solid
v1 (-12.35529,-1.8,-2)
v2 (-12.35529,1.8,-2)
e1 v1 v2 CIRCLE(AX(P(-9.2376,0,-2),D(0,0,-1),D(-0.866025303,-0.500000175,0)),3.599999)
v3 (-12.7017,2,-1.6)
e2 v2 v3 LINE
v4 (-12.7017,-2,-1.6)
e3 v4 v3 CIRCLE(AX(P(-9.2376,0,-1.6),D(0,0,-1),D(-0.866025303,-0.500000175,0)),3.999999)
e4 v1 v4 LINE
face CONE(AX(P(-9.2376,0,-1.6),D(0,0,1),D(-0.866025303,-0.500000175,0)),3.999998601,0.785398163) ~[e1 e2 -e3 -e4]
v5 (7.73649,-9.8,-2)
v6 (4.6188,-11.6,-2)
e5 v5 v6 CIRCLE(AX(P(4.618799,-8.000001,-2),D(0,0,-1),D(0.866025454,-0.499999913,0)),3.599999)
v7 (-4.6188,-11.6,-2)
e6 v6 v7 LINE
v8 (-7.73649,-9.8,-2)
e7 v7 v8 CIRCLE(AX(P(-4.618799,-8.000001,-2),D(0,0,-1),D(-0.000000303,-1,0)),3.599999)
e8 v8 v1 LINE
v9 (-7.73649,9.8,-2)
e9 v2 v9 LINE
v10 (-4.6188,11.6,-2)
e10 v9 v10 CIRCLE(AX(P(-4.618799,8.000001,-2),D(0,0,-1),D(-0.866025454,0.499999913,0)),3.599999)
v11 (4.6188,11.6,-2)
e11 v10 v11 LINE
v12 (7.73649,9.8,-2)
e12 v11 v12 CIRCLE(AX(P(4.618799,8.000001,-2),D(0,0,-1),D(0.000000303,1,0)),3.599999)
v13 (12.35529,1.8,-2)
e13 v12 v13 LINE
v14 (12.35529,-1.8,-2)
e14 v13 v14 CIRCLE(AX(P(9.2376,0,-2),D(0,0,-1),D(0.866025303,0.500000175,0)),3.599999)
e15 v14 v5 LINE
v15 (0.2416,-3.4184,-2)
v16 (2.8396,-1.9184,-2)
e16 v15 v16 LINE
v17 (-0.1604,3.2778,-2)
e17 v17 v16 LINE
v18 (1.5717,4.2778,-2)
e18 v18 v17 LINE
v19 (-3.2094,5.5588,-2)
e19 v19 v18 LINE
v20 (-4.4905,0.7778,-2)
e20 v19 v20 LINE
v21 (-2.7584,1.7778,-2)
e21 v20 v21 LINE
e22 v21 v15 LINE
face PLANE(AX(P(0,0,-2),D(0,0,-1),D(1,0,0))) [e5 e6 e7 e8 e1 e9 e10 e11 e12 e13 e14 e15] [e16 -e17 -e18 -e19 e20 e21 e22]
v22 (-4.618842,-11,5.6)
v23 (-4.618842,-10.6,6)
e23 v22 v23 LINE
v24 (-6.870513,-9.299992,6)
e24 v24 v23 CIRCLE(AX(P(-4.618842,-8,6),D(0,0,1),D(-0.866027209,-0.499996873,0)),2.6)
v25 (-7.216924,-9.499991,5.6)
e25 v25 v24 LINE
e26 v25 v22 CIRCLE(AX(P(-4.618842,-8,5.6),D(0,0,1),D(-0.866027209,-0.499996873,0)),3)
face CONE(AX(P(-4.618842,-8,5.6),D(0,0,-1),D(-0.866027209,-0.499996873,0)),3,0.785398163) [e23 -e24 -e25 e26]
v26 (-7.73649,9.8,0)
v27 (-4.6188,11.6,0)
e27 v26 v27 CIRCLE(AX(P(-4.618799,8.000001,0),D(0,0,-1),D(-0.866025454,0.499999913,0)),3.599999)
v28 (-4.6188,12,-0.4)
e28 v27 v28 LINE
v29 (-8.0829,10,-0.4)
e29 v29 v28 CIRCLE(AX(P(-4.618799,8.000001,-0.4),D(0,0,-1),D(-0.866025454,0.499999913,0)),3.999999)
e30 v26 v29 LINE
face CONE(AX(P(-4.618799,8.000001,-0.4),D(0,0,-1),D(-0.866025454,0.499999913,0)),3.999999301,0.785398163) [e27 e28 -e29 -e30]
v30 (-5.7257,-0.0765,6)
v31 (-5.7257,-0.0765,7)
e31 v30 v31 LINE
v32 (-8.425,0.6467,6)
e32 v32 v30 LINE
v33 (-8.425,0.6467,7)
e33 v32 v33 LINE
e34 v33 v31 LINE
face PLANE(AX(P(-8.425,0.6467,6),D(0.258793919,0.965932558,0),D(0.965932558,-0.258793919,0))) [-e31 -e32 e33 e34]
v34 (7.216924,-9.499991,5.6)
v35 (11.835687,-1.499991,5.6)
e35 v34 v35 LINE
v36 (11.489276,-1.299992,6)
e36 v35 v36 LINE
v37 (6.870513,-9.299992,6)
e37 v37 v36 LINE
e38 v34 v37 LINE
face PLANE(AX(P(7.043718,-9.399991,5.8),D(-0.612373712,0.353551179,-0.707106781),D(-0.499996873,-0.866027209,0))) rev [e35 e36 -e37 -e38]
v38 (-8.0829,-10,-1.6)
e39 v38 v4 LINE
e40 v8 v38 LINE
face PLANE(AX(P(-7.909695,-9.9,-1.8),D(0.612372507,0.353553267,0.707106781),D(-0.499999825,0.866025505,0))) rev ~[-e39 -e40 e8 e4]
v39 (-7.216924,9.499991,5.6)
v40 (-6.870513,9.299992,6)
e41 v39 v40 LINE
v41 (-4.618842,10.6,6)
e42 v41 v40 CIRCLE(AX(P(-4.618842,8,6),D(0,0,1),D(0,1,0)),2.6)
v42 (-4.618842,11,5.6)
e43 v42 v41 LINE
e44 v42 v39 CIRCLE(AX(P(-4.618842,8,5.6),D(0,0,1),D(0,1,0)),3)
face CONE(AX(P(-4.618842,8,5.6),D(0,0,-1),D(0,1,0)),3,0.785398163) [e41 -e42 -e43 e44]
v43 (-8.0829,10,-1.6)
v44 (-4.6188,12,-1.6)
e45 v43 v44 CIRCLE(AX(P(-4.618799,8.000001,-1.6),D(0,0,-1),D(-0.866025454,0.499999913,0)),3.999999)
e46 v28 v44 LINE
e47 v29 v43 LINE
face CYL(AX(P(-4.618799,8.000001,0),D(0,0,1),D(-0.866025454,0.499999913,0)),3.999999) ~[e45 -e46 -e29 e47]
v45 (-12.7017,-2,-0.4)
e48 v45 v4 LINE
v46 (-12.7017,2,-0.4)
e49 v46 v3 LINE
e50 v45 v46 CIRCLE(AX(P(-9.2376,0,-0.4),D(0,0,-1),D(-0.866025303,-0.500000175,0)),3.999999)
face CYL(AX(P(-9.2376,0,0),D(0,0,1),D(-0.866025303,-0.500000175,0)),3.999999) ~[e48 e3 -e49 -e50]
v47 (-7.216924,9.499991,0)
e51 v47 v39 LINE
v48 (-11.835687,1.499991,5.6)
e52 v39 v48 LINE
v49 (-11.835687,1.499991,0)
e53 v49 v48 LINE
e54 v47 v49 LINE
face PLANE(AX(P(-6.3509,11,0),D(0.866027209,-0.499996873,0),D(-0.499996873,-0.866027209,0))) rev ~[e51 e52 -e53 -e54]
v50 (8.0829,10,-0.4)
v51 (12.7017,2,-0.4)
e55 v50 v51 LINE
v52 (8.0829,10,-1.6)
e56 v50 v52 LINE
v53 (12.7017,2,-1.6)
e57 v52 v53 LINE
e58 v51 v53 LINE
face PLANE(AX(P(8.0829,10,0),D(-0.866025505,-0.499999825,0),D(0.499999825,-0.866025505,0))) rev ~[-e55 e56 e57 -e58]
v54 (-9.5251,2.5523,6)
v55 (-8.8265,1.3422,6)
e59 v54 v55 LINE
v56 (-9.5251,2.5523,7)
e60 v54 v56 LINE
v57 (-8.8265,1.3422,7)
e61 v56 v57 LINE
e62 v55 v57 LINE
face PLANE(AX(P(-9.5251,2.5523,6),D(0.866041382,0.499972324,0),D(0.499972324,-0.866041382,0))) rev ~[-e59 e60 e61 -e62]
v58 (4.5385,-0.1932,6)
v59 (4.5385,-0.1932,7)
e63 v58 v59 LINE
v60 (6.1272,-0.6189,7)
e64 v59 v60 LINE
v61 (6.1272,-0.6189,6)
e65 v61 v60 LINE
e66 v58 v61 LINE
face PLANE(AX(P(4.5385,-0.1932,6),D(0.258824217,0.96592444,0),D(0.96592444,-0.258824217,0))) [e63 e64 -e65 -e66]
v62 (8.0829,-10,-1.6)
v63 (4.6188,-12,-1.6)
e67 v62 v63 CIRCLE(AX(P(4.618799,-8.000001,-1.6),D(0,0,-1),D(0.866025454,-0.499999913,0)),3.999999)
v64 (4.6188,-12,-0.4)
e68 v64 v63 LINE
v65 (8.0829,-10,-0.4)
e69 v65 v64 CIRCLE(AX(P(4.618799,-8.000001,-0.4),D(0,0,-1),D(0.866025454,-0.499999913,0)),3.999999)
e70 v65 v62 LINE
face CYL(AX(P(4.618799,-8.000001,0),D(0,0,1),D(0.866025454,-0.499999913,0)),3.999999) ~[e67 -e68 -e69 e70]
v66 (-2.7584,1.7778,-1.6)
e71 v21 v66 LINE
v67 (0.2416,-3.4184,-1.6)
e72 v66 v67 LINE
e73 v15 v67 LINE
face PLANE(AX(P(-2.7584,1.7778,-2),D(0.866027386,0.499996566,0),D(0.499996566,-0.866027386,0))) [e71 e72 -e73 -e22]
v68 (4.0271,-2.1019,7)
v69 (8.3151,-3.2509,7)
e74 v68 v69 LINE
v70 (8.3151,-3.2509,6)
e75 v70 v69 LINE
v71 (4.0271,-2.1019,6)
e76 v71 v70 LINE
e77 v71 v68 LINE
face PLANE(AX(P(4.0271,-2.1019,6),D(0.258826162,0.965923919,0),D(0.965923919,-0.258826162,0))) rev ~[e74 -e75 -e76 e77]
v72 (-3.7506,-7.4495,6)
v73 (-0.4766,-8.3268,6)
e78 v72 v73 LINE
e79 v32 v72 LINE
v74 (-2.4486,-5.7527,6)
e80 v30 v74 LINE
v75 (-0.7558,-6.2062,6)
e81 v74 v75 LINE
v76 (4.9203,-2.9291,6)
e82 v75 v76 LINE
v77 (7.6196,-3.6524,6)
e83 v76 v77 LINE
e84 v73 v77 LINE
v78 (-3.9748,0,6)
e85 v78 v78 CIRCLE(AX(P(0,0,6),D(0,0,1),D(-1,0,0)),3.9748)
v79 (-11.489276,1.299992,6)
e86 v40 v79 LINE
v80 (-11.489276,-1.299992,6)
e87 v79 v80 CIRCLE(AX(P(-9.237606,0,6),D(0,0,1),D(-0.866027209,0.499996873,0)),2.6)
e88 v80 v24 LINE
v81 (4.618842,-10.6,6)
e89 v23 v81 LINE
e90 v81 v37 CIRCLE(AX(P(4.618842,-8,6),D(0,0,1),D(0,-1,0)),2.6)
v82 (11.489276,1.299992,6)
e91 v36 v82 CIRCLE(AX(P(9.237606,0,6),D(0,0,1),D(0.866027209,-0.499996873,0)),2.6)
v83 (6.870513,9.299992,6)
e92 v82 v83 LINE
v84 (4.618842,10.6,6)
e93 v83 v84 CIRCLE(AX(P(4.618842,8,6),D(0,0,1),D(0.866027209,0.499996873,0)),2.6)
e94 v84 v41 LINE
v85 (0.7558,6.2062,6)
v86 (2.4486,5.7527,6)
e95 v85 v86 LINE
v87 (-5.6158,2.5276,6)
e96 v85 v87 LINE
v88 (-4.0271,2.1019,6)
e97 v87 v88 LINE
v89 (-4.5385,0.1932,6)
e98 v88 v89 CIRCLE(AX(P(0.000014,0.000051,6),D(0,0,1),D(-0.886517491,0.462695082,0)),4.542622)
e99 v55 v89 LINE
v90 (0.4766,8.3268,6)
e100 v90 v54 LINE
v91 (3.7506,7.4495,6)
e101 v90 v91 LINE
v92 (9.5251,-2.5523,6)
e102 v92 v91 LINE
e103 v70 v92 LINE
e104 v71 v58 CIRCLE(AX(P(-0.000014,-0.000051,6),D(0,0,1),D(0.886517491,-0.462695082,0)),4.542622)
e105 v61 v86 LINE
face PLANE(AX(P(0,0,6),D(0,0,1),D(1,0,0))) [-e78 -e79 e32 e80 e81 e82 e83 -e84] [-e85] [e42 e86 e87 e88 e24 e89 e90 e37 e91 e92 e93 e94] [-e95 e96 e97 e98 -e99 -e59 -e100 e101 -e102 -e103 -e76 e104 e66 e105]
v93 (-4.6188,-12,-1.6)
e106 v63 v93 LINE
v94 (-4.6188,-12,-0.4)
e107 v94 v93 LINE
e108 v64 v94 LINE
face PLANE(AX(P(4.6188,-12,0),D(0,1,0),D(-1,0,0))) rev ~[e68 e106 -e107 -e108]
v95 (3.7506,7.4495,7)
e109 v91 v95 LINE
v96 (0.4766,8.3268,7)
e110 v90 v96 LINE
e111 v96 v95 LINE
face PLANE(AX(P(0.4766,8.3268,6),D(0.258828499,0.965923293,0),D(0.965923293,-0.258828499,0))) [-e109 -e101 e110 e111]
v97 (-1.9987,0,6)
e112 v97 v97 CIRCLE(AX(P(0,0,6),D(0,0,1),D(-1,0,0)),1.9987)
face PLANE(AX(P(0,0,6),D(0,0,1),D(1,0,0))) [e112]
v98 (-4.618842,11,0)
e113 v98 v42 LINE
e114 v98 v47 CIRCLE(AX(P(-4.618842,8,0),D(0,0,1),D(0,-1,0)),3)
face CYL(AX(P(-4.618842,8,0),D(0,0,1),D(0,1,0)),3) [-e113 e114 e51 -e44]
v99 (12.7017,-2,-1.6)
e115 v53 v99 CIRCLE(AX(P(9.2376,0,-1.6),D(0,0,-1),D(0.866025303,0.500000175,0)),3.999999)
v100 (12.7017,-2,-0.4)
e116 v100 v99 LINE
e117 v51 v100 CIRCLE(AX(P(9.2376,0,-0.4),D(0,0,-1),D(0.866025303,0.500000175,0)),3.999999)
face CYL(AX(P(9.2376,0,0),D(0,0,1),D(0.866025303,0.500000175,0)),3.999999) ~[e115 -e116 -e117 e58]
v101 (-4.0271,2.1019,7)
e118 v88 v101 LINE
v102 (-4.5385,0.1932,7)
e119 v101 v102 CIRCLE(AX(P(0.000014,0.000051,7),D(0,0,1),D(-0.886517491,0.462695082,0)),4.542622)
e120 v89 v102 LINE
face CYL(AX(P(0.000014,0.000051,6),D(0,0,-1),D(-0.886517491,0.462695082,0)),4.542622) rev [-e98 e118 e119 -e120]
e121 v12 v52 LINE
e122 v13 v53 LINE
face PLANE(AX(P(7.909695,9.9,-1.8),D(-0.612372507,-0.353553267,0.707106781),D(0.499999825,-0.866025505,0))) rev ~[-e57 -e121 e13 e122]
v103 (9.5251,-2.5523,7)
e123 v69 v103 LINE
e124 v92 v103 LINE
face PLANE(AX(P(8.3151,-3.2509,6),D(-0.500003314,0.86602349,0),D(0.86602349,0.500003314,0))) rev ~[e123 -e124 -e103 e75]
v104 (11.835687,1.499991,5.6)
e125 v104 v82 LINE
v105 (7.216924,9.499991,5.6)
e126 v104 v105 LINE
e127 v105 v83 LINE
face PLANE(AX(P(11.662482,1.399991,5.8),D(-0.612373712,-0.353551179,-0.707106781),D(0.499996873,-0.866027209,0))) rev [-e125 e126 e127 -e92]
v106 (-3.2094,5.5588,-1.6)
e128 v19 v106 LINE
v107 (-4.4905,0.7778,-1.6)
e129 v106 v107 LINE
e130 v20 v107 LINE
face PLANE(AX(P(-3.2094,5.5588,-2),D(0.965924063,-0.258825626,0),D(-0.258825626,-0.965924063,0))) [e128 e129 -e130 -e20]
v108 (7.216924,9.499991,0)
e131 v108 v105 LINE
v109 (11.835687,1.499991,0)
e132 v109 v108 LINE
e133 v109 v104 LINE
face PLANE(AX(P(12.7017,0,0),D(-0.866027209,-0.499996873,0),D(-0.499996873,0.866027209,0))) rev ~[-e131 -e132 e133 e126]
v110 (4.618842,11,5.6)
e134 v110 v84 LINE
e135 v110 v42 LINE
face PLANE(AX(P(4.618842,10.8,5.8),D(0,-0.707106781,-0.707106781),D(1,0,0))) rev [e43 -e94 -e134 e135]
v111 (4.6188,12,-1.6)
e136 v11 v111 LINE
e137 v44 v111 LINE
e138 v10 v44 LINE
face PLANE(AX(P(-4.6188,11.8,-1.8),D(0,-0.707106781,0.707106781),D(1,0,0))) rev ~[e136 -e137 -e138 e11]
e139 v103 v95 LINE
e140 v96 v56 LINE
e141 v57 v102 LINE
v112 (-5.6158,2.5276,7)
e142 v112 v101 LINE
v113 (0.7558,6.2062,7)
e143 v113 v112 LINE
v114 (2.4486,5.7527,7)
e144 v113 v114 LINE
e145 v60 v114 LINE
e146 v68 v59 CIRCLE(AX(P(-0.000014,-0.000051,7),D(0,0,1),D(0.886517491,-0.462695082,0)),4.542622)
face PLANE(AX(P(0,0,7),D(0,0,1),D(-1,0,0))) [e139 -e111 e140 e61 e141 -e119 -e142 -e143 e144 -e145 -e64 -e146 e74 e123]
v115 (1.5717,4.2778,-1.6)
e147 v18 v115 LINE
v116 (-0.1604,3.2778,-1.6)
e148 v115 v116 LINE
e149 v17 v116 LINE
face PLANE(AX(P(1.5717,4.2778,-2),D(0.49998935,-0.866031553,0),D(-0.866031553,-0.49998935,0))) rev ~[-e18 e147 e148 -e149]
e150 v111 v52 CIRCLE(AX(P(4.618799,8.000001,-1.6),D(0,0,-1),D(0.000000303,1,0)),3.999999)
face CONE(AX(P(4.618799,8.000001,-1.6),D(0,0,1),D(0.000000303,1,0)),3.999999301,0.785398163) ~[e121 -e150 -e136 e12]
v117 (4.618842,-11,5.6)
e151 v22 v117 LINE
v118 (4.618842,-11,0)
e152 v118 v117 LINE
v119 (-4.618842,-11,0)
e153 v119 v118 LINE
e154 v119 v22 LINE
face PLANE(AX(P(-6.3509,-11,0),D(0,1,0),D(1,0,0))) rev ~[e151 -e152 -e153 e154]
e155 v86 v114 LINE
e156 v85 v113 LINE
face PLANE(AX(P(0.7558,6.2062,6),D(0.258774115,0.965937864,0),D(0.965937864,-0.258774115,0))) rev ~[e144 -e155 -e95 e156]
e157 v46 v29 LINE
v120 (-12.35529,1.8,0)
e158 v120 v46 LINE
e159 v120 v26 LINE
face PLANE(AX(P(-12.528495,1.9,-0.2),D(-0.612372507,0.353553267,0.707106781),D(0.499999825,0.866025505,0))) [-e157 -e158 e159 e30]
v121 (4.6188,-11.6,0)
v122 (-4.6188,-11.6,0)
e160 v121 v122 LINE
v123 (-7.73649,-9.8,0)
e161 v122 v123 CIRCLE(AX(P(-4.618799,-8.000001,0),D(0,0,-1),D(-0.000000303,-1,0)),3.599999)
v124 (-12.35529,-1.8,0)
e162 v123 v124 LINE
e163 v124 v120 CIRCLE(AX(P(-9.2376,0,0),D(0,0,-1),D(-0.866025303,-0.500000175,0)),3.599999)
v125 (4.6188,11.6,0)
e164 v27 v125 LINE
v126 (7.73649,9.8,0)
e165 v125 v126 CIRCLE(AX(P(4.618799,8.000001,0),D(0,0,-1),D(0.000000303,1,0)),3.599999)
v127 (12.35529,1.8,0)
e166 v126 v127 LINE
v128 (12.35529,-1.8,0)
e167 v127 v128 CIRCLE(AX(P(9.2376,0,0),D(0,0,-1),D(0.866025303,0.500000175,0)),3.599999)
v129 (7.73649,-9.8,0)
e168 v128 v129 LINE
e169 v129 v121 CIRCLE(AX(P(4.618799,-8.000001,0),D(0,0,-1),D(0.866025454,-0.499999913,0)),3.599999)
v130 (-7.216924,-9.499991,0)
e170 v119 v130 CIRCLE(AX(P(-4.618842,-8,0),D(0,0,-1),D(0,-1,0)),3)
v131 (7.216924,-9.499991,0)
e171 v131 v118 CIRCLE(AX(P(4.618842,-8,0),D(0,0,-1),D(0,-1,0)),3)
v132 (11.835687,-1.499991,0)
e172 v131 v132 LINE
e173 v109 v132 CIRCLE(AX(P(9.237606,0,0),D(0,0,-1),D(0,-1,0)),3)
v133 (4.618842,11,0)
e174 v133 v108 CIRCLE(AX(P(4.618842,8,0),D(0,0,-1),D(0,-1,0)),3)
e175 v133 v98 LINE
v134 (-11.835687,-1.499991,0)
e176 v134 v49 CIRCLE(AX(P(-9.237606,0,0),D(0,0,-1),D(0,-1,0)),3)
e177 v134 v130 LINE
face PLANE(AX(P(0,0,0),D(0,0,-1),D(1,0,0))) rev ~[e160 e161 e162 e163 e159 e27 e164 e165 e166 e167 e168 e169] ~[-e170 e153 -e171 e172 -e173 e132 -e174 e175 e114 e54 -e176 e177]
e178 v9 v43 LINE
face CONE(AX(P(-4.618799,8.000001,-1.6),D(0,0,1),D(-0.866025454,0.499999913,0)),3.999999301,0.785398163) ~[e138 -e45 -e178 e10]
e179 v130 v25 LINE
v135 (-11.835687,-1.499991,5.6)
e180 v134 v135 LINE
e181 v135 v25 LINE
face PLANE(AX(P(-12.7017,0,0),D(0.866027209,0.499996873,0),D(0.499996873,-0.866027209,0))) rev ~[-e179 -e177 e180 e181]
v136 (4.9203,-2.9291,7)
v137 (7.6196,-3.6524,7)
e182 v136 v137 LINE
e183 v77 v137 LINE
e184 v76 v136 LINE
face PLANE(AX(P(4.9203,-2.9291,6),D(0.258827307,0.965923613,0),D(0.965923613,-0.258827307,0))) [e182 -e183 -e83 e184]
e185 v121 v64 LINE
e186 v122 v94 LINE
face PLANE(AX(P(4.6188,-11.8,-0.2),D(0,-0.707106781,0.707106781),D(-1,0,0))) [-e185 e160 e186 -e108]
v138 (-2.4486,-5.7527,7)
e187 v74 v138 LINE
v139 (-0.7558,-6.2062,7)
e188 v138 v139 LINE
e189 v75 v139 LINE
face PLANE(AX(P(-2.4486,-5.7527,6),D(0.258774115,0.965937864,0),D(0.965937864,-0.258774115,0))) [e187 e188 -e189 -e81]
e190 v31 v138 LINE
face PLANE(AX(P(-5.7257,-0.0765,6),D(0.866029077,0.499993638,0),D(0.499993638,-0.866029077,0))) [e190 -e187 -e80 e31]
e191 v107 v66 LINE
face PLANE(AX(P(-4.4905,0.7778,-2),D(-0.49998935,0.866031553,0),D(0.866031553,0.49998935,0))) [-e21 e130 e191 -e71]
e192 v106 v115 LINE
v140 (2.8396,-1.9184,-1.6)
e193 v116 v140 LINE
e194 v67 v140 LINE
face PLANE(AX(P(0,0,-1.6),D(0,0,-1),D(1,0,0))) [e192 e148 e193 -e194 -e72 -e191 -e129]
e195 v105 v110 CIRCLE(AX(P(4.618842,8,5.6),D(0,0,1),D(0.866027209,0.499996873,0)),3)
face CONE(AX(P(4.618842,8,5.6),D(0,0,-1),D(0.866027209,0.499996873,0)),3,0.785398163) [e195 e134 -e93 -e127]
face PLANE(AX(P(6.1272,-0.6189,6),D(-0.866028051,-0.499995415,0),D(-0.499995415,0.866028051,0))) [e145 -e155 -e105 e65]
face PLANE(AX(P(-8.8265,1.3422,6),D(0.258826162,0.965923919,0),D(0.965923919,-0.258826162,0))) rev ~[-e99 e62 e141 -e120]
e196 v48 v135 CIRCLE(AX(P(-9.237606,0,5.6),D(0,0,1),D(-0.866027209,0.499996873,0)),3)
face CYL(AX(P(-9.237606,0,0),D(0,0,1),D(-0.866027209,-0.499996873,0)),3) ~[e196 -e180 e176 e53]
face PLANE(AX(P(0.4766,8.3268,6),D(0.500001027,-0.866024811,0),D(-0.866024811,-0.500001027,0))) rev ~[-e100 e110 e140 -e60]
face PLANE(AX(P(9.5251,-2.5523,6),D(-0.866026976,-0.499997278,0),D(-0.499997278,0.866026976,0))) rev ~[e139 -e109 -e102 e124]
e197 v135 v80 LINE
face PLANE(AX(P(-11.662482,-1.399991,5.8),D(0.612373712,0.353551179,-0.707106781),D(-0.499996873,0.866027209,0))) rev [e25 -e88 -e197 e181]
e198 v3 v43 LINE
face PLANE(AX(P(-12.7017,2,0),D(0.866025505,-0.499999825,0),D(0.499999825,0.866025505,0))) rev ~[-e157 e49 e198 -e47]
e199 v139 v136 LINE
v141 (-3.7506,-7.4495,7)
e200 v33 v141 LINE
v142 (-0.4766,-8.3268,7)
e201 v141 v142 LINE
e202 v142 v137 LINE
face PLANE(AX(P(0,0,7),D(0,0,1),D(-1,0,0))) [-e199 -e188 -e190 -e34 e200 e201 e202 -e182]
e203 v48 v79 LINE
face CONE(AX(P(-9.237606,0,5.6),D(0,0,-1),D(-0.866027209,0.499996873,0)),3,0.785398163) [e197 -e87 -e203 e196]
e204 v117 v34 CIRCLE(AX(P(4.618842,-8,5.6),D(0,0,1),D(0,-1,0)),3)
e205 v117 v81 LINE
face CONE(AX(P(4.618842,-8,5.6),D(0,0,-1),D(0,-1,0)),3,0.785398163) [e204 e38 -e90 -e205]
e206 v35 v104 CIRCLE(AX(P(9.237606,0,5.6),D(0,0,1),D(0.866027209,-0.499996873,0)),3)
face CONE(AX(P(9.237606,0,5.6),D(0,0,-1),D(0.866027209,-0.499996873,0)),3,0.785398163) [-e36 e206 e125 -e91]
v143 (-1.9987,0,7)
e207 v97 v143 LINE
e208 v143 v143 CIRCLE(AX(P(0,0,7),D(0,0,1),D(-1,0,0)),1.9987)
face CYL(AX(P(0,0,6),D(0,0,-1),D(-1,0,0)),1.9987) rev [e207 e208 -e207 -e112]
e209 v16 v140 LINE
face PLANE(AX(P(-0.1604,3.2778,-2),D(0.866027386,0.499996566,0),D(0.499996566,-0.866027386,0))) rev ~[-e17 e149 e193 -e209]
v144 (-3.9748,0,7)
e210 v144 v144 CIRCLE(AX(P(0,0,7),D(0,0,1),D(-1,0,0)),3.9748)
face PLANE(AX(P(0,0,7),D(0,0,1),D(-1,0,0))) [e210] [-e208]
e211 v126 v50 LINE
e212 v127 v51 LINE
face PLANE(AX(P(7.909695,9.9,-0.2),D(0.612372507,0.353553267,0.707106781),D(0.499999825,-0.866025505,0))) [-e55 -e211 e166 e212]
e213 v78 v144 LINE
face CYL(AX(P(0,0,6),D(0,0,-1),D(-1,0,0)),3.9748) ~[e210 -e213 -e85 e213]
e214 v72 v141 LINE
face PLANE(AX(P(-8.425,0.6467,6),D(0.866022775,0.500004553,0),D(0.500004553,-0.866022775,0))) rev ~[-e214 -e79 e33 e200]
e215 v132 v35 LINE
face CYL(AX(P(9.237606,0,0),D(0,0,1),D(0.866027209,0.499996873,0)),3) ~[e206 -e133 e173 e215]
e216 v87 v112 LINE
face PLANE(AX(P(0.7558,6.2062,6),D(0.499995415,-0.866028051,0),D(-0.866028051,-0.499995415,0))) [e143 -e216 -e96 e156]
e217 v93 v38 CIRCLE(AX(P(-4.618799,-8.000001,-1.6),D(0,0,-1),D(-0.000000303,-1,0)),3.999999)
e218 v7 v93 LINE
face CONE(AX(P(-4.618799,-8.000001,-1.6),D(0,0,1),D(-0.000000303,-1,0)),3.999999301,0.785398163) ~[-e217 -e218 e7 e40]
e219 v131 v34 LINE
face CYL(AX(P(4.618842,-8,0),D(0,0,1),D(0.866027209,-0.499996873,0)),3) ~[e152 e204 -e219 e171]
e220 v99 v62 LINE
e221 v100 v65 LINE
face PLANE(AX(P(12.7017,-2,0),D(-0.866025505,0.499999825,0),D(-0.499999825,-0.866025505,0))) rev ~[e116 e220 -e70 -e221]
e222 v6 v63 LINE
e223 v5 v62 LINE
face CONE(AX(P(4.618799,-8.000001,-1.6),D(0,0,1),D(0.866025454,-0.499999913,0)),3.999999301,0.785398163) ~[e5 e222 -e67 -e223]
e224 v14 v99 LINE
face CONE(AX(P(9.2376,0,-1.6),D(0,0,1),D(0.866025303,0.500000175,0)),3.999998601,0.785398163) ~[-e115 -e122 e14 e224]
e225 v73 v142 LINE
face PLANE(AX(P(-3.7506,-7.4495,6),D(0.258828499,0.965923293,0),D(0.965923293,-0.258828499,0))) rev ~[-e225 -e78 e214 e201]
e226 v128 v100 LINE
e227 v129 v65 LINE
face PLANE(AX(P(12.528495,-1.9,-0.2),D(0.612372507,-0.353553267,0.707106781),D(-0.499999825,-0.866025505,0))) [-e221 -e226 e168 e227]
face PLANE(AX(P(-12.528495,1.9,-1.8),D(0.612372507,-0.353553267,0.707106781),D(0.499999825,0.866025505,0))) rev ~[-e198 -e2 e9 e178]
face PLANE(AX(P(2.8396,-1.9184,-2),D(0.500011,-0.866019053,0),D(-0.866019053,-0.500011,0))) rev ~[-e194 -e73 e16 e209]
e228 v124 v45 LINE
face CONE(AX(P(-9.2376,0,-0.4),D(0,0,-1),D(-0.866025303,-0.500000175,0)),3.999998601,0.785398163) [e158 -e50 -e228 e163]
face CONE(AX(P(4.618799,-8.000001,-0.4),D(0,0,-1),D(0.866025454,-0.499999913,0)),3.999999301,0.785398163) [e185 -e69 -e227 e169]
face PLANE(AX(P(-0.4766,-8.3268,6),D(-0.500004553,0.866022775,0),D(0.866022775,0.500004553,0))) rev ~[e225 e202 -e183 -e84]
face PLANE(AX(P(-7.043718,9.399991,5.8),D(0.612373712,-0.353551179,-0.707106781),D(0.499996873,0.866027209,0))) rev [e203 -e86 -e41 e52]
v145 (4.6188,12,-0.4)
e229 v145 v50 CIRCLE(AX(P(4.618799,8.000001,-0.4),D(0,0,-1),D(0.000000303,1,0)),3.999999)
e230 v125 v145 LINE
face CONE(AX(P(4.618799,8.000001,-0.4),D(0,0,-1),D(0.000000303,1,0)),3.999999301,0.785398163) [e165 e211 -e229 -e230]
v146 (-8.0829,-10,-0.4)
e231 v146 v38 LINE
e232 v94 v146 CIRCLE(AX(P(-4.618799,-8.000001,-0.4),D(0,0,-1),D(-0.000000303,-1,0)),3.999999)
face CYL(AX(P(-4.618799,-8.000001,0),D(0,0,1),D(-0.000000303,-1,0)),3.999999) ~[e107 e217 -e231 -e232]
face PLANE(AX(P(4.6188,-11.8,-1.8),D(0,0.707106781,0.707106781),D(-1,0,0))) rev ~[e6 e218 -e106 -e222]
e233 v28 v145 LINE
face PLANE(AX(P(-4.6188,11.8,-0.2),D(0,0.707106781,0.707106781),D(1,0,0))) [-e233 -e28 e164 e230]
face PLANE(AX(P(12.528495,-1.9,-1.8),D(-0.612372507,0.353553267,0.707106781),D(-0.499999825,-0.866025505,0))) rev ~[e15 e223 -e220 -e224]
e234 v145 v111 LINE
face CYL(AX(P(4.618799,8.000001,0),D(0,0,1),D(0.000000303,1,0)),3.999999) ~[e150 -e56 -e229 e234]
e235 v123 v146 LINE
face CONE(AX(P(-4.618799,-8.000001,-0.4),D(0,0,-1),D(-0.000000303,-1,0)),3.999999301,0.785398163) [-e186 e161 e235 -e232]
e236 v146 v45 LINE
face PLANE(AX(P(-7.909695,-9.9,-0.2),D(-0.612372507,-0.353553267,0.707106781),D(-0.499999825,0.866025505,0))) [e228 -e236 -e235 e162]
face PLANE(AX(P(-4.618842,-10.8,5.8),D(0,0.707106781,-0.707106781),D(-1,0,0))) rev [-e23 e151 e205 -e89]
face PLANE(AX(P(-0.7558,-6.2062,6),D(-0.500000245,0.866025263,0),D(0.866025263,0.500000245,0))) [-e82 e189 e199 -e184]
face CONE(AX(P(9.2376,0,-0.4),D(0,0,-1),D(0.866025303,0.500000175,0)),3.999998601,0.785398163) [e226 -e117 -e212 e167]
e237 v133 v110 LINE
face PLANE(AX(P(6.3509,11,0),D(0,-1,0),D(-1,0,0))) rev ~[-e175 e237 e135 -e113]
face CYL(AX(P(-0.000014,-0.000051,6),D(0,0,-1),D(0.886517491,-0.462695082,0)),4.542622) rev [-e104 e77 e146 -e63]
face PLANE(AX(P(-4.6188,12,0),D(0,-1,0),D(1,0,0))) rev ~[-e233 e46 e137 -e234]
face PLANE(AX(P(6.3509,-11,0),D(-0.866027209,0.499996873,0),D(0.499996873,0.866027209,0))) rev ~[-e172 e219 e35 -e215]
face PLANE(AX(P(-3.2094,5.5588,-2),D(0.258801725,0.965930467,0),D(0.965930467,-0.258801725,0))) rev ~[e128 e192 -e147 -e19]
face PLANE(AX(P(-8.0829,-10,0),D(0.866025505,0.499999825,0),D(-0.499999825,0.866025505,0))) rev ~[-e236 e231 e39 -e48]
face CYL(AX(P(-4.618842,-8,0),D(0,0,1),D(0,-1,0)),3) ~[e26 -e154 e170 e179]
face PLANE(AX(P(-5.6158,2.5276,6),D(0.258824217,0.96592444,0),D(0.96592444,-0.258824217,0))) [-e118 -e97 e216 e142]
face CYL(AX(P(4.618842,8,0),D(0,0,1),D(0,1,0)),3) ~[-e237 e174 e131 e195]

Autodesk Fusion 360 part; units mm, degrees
sketch "Sketch1" plane through (0, 0, 0) normal (0, 0, 1) x (1, 0, 0)
  line L0 (-6.3509, 11) -> (-12.7017, 0)
  line L1 (-12.7017, 0) -> (-6.3509, -11)
  line L2 (-6.3509, -11) -> (6.3509, -11)
  line L3 (6.3509, -11) -> (12.7017, 0)
  line L4 (12.7017, 0) -> (6.3509, 11)
  line L5 (6.3509, 11) -> (-6.3509, 11)
  dimension "d1" = 11
extrude "Extrude1" add sketch "Sketch1" along normal blind 6
fillet "Fillet1" radius 3 6 edges at (6.3509, -11, 3) (12.7017, 0, 3) (-6.3509, -11, 3) (-12.7017, 0, 3) (-6.3509, 11, 3) (6.3509, 11, 3)
sketch "Sketch2" plane through (0, 0, 0) normal (0, 0, -1) x (1, 0, 0)
  arc A0 (4.6188, -11) -> (7.2169, -9.5) centre (4.6188, -8) ccw
  line L0 (7.2169, -9.5) -> (11.8357, -1.5)
  arc A1 (11.8357, -1.5) -> (11.8357, 1.5) centre (9.2376, 0) ccw
  line L1 (11.8357, 1.5) -> (7.2169, 9.5) construction
  arc A2 (7.2169, 9.5) -> (4.6188, 11) centre (4.6188, 8) ccw
  line L2 (4.6188, 11) -> (-4.6188, 11)
  arc A3 (-4.6188, 11) -> (-7.2169, 9.5) centre (-4.6188, 8) ccw
  line L3 (-7.2169, 9.5) -> (-11.8357, 1.5)
  arc A4 (-11.8357, 1.5) -> (-11.8357, -1.5) centre (-9.2376, 0) ccw
  line L4 (-11.8357, -1.5) -> (-7.2169, -9.5)
  arc A5 (-7.2169, -9.5) -> (-4.6188, -11) centre (-4.6188, -8) ccw
  line L5 (-4.6188, -11) -> (4.6188, -11)
  line L6 (-8.0829, 10) -> (-12.7017, 2)
  arc A6 (-12.7017, 2) -> (-12.7017, -2) centre (-9.2376, 0) ccw
  line L7 (-12.7017, -2) -> (-8.0829, -10)
  arc A7 (-8.0829, -10) -> (-4.6188, -12) centre (-4.6188, -8) ccw
  line L8 (-4.6188, -12) -> (4.6188, -12)
  arc A8 (4.6188, -12) -> (8.0829, -10) centre (4.6188, -8) ccw
  line L9 (8.0829, -10) -> (12.7017, -2)
  arc A9 (12.7017, -2) -> (12.7017, 2) centre (9.2376, 0) ccw
  line L10 (12.7017, 2) -> (8.0829, 10)
  arc A10 (8.0829, 10) -> (4.6188, 12) centre (4.6188, 8) ccw
  line L11 (4.6188, 12) -> (-4.6188, 12)
  arc A11 (-4.6188, 12) -> (-8.0829, 10) centre (-4.6188, 8) ccw
  dimension "d6" = 1
extrude "Extrude2" add sketch "Sketch2" along normal blind 2
sketch "Sketch3" plane through (0, 0, 6) normal (0, 0, 1) x (-1, 0, 0)
  arc A0 (-7.2169, -9.5) -> (-4.6188, -11) centre (-4.6188, -8) ccw
  line L0 (-4.6188, -11) -> (4.6188, -11)
  arc A1 (4.6188, -11) -> (7.2169, -9.5) centre (4.6188, -8) ccw
  line L1 (7.2169, -9.5) -> (11.8357, -1.5) construction
  arc A2 (11.8357, -1.5) -> (11.8357, 1.5) centre (9.2376, 0) ccw
  line L2 (11.8357, 1.5) -> (7.2169, 9.5)
  arc A3 (7.2169, 9.5) -> (4.6188, 11) centre (4.6188, 8) ccw
  line L3 (4.6188, 11) -> (-4.6188, 11)
  arc A4 (-4.6188, 11) -> (-7.2169, 9.5) centre (-4.6188, 8) ccw
  line L4 (-7.2169, 9.5) -> (-11.8357, 1.5)
  arc A5 (-11.8357, 1.5) -> (-11.8357, -1.5) centre (-9.2376, 0) ccw
  line L5 (-11.8357, -1.5) -> (-7.2169, -9.5)
  line L6 (8.425, -0.6467) -> (5.7257, 0.0765)
  line L7 (5.6158, -2.5276) -> (4.0271, -2.1019)
  line L8 (5.7257, 0.0765) -> (2.4486, 5.7527)
  line L9 (-4.0271, 2.1019) -> (-8.3151, 3.2509)
  line L10 (-0.4766, -8.3268) -> (9.5251, -2.5523)
  line L11 (-9.5251, 2.5523) -> (-3.7506, -7.4495)
  line L12 (8.425, -0.6467) -> (3.7506, 7.4495)
  line L13 (-0.7558, -6.2062) -> (5.6158, -2.5276)
  line L14 (-4.9203, 2.9291) -> (-7.6196, 3.6524)
  line L15 (-8.3151, 3.2509) -> (-9.5251, 2.5523)
  line L16 (0.7558, 6.2062) -> (-4.9203, 2.9291)
  line L17 (0.4766, 8.3268) -> (-7.6196, 3.6524)
  line L18 (9.5251, -2.5523) -> (8.8265, -1.3422)
  line L19 (-6.1272, 0.6189) -> (-2.4486, -5.7527)
  line L20 (8.8265, -1.3422) -> (4.5385, -0.1932)
  line L21 (3.7506, 7.4495) -> (0.4766, 8.3268)
  line L22 (2.4486, 5.7527) -> (0.7558, 6.2062)
  line L23 (-0.7558, -6.2062) -> (-2.4486, -5.7527)
  line L24 (-0.4766, -8.3268) -> (-3.7506, -7.4495)
  circle A6 centre (0, 0) radius 1.9987
  circle A7 centre (0, 0) radius 3.9748
  arc A8 (-4.0271, 2.1019) -> (-4.5385, 0.1932) centre (0, 0) ccw
  line L25 (-4.5385, 0.1932) -> (-6.1272, 0.6189)
  arc A9 (4.0271, -2.1019) -> (4.5385, -0.1932) centre (0, 0) ccw
extrude "Extrude3" add sketch "Sketch3" along normal blind 1
chamfer "Chamfer1" distance 0.4 angle 45 36 edges at (9.5263, -5.5, 6) (12.2376, 0, 6) (9.5263, 5.5, 6) (6.1188, 10.5981, 6) (0, 11, 6) (-6.1188, 10.5981, 6) (-9.5263, 5.5, 6) (-12.2376, 0, 6) (-9.5263, -5.5, 6) (-6.1188, -10.5981, 6) (0, -11, 6) (6.1188, -10.5981, 6) (10.3923, -6, 0) (6.6188, -11.4641, 0) (0, -12, 0) (-6.6188, -11.4641, 0) (-10.3923, -6, 0) (-13.2376, 0, 0) (-10.3923, 6, 0) (-6.6188, 11.4641, 0) (0, 12, 0) (6.6188, 11.4641, 0) (10.3923, 6, 0) (13.2376, 0, 0) (10.3923, -6, -2) (6.6188, -11.4641, -2) (0, -12, -2) (-6.6188, -11.4641, -2) (-10.3923, -6, -2) (-13.2376, 0, -2) (-10.3923, 6, -2) (-6.6188, 11.4641, -2) (0, 12, -2) (6.6188, 11.4641, -2) (10.3923, 6, -2) (13.2376, 0, -2)
sketch "Sketch4" plane through (0, 0, -2) normal (0, 0, -1) x (1, 0, 0)
  line L0 (12.3553, 1.8) -> (7.7365, 9.8)
  arc A0 (7.7365, 9.8) -> (4.6188, 11.6) centre (4.6188, 8) ccw
  line L1 (4.6188, 11.6) -> (-4.6188, 11.6)
  arc A1 (-4.6188, 11.6) -> (-7.7365, 9.8) centre (-4.6188, 8) ccw
  line L2 (-7.7365, 9.8) -> (-12.3553, 1.8)
  arc A2 (-12.3553, 1.8) -> (-12.3553, -1.8) centre (-9.2376, 0) ccw
  line L3 (-12.3553, -1.8) -> (-7.7365, -9.8)
  arc A3 (-7.7365, -9.8) -> (-4.6188, -11.6) centre (-4.6188, -8) ccw
  line L4 (-4.6188, -11.6) -> (4.6188, -11.6)
  arc A4 (4.6188, -11.6) -> (7.7365, -9.8) centre (4.6188, -8) ccw
  line L5 (7.7365, -9.8) -> (12.3553, -1.8)
  arc A5 (12.3553, -1.8) -> (12.3553, 1.8) centre (9.2376, 0) ccw
  line L6 (0, 0) -> (-6.4188, -11.1177) construction
  line L7 (-3.2094, -5.5588) -> (1.5717, -4.2778)
  line L8 (1.5717, -4.2778) -> (-0.1604, -3.2778)
  line L9 (-0.1604, -3.2778) -> (2.8396, 1.9184)
  line L10 (2.8396, 1.9184) -> (1.5406, 2.6684)
  line L11 (1.5406, 2.6684) -> (0, 0) construction
  line L12 (-3.2094, -5.5588) -> (-4.4905, -0.7778)
  line L13 (-4.4905, -0.7778) -> (-2.7584, -1.7778)
  line L14 (0.2416, 3.4184) -> (1.5406, 2.6684)
  line L15 (-2.7584, -1.7778) -> (0.2416, 3.4184)
  dimension "d14" = 1.5
  dimension "d15" = 2
  dimension "d16" = 45
  dimension "d17" = 6
extrude "Extrude4" cut sketch "Sketch4" against normal blind 0.4 contours L7 L8 L9 L10 L12 L13 L14 L15
